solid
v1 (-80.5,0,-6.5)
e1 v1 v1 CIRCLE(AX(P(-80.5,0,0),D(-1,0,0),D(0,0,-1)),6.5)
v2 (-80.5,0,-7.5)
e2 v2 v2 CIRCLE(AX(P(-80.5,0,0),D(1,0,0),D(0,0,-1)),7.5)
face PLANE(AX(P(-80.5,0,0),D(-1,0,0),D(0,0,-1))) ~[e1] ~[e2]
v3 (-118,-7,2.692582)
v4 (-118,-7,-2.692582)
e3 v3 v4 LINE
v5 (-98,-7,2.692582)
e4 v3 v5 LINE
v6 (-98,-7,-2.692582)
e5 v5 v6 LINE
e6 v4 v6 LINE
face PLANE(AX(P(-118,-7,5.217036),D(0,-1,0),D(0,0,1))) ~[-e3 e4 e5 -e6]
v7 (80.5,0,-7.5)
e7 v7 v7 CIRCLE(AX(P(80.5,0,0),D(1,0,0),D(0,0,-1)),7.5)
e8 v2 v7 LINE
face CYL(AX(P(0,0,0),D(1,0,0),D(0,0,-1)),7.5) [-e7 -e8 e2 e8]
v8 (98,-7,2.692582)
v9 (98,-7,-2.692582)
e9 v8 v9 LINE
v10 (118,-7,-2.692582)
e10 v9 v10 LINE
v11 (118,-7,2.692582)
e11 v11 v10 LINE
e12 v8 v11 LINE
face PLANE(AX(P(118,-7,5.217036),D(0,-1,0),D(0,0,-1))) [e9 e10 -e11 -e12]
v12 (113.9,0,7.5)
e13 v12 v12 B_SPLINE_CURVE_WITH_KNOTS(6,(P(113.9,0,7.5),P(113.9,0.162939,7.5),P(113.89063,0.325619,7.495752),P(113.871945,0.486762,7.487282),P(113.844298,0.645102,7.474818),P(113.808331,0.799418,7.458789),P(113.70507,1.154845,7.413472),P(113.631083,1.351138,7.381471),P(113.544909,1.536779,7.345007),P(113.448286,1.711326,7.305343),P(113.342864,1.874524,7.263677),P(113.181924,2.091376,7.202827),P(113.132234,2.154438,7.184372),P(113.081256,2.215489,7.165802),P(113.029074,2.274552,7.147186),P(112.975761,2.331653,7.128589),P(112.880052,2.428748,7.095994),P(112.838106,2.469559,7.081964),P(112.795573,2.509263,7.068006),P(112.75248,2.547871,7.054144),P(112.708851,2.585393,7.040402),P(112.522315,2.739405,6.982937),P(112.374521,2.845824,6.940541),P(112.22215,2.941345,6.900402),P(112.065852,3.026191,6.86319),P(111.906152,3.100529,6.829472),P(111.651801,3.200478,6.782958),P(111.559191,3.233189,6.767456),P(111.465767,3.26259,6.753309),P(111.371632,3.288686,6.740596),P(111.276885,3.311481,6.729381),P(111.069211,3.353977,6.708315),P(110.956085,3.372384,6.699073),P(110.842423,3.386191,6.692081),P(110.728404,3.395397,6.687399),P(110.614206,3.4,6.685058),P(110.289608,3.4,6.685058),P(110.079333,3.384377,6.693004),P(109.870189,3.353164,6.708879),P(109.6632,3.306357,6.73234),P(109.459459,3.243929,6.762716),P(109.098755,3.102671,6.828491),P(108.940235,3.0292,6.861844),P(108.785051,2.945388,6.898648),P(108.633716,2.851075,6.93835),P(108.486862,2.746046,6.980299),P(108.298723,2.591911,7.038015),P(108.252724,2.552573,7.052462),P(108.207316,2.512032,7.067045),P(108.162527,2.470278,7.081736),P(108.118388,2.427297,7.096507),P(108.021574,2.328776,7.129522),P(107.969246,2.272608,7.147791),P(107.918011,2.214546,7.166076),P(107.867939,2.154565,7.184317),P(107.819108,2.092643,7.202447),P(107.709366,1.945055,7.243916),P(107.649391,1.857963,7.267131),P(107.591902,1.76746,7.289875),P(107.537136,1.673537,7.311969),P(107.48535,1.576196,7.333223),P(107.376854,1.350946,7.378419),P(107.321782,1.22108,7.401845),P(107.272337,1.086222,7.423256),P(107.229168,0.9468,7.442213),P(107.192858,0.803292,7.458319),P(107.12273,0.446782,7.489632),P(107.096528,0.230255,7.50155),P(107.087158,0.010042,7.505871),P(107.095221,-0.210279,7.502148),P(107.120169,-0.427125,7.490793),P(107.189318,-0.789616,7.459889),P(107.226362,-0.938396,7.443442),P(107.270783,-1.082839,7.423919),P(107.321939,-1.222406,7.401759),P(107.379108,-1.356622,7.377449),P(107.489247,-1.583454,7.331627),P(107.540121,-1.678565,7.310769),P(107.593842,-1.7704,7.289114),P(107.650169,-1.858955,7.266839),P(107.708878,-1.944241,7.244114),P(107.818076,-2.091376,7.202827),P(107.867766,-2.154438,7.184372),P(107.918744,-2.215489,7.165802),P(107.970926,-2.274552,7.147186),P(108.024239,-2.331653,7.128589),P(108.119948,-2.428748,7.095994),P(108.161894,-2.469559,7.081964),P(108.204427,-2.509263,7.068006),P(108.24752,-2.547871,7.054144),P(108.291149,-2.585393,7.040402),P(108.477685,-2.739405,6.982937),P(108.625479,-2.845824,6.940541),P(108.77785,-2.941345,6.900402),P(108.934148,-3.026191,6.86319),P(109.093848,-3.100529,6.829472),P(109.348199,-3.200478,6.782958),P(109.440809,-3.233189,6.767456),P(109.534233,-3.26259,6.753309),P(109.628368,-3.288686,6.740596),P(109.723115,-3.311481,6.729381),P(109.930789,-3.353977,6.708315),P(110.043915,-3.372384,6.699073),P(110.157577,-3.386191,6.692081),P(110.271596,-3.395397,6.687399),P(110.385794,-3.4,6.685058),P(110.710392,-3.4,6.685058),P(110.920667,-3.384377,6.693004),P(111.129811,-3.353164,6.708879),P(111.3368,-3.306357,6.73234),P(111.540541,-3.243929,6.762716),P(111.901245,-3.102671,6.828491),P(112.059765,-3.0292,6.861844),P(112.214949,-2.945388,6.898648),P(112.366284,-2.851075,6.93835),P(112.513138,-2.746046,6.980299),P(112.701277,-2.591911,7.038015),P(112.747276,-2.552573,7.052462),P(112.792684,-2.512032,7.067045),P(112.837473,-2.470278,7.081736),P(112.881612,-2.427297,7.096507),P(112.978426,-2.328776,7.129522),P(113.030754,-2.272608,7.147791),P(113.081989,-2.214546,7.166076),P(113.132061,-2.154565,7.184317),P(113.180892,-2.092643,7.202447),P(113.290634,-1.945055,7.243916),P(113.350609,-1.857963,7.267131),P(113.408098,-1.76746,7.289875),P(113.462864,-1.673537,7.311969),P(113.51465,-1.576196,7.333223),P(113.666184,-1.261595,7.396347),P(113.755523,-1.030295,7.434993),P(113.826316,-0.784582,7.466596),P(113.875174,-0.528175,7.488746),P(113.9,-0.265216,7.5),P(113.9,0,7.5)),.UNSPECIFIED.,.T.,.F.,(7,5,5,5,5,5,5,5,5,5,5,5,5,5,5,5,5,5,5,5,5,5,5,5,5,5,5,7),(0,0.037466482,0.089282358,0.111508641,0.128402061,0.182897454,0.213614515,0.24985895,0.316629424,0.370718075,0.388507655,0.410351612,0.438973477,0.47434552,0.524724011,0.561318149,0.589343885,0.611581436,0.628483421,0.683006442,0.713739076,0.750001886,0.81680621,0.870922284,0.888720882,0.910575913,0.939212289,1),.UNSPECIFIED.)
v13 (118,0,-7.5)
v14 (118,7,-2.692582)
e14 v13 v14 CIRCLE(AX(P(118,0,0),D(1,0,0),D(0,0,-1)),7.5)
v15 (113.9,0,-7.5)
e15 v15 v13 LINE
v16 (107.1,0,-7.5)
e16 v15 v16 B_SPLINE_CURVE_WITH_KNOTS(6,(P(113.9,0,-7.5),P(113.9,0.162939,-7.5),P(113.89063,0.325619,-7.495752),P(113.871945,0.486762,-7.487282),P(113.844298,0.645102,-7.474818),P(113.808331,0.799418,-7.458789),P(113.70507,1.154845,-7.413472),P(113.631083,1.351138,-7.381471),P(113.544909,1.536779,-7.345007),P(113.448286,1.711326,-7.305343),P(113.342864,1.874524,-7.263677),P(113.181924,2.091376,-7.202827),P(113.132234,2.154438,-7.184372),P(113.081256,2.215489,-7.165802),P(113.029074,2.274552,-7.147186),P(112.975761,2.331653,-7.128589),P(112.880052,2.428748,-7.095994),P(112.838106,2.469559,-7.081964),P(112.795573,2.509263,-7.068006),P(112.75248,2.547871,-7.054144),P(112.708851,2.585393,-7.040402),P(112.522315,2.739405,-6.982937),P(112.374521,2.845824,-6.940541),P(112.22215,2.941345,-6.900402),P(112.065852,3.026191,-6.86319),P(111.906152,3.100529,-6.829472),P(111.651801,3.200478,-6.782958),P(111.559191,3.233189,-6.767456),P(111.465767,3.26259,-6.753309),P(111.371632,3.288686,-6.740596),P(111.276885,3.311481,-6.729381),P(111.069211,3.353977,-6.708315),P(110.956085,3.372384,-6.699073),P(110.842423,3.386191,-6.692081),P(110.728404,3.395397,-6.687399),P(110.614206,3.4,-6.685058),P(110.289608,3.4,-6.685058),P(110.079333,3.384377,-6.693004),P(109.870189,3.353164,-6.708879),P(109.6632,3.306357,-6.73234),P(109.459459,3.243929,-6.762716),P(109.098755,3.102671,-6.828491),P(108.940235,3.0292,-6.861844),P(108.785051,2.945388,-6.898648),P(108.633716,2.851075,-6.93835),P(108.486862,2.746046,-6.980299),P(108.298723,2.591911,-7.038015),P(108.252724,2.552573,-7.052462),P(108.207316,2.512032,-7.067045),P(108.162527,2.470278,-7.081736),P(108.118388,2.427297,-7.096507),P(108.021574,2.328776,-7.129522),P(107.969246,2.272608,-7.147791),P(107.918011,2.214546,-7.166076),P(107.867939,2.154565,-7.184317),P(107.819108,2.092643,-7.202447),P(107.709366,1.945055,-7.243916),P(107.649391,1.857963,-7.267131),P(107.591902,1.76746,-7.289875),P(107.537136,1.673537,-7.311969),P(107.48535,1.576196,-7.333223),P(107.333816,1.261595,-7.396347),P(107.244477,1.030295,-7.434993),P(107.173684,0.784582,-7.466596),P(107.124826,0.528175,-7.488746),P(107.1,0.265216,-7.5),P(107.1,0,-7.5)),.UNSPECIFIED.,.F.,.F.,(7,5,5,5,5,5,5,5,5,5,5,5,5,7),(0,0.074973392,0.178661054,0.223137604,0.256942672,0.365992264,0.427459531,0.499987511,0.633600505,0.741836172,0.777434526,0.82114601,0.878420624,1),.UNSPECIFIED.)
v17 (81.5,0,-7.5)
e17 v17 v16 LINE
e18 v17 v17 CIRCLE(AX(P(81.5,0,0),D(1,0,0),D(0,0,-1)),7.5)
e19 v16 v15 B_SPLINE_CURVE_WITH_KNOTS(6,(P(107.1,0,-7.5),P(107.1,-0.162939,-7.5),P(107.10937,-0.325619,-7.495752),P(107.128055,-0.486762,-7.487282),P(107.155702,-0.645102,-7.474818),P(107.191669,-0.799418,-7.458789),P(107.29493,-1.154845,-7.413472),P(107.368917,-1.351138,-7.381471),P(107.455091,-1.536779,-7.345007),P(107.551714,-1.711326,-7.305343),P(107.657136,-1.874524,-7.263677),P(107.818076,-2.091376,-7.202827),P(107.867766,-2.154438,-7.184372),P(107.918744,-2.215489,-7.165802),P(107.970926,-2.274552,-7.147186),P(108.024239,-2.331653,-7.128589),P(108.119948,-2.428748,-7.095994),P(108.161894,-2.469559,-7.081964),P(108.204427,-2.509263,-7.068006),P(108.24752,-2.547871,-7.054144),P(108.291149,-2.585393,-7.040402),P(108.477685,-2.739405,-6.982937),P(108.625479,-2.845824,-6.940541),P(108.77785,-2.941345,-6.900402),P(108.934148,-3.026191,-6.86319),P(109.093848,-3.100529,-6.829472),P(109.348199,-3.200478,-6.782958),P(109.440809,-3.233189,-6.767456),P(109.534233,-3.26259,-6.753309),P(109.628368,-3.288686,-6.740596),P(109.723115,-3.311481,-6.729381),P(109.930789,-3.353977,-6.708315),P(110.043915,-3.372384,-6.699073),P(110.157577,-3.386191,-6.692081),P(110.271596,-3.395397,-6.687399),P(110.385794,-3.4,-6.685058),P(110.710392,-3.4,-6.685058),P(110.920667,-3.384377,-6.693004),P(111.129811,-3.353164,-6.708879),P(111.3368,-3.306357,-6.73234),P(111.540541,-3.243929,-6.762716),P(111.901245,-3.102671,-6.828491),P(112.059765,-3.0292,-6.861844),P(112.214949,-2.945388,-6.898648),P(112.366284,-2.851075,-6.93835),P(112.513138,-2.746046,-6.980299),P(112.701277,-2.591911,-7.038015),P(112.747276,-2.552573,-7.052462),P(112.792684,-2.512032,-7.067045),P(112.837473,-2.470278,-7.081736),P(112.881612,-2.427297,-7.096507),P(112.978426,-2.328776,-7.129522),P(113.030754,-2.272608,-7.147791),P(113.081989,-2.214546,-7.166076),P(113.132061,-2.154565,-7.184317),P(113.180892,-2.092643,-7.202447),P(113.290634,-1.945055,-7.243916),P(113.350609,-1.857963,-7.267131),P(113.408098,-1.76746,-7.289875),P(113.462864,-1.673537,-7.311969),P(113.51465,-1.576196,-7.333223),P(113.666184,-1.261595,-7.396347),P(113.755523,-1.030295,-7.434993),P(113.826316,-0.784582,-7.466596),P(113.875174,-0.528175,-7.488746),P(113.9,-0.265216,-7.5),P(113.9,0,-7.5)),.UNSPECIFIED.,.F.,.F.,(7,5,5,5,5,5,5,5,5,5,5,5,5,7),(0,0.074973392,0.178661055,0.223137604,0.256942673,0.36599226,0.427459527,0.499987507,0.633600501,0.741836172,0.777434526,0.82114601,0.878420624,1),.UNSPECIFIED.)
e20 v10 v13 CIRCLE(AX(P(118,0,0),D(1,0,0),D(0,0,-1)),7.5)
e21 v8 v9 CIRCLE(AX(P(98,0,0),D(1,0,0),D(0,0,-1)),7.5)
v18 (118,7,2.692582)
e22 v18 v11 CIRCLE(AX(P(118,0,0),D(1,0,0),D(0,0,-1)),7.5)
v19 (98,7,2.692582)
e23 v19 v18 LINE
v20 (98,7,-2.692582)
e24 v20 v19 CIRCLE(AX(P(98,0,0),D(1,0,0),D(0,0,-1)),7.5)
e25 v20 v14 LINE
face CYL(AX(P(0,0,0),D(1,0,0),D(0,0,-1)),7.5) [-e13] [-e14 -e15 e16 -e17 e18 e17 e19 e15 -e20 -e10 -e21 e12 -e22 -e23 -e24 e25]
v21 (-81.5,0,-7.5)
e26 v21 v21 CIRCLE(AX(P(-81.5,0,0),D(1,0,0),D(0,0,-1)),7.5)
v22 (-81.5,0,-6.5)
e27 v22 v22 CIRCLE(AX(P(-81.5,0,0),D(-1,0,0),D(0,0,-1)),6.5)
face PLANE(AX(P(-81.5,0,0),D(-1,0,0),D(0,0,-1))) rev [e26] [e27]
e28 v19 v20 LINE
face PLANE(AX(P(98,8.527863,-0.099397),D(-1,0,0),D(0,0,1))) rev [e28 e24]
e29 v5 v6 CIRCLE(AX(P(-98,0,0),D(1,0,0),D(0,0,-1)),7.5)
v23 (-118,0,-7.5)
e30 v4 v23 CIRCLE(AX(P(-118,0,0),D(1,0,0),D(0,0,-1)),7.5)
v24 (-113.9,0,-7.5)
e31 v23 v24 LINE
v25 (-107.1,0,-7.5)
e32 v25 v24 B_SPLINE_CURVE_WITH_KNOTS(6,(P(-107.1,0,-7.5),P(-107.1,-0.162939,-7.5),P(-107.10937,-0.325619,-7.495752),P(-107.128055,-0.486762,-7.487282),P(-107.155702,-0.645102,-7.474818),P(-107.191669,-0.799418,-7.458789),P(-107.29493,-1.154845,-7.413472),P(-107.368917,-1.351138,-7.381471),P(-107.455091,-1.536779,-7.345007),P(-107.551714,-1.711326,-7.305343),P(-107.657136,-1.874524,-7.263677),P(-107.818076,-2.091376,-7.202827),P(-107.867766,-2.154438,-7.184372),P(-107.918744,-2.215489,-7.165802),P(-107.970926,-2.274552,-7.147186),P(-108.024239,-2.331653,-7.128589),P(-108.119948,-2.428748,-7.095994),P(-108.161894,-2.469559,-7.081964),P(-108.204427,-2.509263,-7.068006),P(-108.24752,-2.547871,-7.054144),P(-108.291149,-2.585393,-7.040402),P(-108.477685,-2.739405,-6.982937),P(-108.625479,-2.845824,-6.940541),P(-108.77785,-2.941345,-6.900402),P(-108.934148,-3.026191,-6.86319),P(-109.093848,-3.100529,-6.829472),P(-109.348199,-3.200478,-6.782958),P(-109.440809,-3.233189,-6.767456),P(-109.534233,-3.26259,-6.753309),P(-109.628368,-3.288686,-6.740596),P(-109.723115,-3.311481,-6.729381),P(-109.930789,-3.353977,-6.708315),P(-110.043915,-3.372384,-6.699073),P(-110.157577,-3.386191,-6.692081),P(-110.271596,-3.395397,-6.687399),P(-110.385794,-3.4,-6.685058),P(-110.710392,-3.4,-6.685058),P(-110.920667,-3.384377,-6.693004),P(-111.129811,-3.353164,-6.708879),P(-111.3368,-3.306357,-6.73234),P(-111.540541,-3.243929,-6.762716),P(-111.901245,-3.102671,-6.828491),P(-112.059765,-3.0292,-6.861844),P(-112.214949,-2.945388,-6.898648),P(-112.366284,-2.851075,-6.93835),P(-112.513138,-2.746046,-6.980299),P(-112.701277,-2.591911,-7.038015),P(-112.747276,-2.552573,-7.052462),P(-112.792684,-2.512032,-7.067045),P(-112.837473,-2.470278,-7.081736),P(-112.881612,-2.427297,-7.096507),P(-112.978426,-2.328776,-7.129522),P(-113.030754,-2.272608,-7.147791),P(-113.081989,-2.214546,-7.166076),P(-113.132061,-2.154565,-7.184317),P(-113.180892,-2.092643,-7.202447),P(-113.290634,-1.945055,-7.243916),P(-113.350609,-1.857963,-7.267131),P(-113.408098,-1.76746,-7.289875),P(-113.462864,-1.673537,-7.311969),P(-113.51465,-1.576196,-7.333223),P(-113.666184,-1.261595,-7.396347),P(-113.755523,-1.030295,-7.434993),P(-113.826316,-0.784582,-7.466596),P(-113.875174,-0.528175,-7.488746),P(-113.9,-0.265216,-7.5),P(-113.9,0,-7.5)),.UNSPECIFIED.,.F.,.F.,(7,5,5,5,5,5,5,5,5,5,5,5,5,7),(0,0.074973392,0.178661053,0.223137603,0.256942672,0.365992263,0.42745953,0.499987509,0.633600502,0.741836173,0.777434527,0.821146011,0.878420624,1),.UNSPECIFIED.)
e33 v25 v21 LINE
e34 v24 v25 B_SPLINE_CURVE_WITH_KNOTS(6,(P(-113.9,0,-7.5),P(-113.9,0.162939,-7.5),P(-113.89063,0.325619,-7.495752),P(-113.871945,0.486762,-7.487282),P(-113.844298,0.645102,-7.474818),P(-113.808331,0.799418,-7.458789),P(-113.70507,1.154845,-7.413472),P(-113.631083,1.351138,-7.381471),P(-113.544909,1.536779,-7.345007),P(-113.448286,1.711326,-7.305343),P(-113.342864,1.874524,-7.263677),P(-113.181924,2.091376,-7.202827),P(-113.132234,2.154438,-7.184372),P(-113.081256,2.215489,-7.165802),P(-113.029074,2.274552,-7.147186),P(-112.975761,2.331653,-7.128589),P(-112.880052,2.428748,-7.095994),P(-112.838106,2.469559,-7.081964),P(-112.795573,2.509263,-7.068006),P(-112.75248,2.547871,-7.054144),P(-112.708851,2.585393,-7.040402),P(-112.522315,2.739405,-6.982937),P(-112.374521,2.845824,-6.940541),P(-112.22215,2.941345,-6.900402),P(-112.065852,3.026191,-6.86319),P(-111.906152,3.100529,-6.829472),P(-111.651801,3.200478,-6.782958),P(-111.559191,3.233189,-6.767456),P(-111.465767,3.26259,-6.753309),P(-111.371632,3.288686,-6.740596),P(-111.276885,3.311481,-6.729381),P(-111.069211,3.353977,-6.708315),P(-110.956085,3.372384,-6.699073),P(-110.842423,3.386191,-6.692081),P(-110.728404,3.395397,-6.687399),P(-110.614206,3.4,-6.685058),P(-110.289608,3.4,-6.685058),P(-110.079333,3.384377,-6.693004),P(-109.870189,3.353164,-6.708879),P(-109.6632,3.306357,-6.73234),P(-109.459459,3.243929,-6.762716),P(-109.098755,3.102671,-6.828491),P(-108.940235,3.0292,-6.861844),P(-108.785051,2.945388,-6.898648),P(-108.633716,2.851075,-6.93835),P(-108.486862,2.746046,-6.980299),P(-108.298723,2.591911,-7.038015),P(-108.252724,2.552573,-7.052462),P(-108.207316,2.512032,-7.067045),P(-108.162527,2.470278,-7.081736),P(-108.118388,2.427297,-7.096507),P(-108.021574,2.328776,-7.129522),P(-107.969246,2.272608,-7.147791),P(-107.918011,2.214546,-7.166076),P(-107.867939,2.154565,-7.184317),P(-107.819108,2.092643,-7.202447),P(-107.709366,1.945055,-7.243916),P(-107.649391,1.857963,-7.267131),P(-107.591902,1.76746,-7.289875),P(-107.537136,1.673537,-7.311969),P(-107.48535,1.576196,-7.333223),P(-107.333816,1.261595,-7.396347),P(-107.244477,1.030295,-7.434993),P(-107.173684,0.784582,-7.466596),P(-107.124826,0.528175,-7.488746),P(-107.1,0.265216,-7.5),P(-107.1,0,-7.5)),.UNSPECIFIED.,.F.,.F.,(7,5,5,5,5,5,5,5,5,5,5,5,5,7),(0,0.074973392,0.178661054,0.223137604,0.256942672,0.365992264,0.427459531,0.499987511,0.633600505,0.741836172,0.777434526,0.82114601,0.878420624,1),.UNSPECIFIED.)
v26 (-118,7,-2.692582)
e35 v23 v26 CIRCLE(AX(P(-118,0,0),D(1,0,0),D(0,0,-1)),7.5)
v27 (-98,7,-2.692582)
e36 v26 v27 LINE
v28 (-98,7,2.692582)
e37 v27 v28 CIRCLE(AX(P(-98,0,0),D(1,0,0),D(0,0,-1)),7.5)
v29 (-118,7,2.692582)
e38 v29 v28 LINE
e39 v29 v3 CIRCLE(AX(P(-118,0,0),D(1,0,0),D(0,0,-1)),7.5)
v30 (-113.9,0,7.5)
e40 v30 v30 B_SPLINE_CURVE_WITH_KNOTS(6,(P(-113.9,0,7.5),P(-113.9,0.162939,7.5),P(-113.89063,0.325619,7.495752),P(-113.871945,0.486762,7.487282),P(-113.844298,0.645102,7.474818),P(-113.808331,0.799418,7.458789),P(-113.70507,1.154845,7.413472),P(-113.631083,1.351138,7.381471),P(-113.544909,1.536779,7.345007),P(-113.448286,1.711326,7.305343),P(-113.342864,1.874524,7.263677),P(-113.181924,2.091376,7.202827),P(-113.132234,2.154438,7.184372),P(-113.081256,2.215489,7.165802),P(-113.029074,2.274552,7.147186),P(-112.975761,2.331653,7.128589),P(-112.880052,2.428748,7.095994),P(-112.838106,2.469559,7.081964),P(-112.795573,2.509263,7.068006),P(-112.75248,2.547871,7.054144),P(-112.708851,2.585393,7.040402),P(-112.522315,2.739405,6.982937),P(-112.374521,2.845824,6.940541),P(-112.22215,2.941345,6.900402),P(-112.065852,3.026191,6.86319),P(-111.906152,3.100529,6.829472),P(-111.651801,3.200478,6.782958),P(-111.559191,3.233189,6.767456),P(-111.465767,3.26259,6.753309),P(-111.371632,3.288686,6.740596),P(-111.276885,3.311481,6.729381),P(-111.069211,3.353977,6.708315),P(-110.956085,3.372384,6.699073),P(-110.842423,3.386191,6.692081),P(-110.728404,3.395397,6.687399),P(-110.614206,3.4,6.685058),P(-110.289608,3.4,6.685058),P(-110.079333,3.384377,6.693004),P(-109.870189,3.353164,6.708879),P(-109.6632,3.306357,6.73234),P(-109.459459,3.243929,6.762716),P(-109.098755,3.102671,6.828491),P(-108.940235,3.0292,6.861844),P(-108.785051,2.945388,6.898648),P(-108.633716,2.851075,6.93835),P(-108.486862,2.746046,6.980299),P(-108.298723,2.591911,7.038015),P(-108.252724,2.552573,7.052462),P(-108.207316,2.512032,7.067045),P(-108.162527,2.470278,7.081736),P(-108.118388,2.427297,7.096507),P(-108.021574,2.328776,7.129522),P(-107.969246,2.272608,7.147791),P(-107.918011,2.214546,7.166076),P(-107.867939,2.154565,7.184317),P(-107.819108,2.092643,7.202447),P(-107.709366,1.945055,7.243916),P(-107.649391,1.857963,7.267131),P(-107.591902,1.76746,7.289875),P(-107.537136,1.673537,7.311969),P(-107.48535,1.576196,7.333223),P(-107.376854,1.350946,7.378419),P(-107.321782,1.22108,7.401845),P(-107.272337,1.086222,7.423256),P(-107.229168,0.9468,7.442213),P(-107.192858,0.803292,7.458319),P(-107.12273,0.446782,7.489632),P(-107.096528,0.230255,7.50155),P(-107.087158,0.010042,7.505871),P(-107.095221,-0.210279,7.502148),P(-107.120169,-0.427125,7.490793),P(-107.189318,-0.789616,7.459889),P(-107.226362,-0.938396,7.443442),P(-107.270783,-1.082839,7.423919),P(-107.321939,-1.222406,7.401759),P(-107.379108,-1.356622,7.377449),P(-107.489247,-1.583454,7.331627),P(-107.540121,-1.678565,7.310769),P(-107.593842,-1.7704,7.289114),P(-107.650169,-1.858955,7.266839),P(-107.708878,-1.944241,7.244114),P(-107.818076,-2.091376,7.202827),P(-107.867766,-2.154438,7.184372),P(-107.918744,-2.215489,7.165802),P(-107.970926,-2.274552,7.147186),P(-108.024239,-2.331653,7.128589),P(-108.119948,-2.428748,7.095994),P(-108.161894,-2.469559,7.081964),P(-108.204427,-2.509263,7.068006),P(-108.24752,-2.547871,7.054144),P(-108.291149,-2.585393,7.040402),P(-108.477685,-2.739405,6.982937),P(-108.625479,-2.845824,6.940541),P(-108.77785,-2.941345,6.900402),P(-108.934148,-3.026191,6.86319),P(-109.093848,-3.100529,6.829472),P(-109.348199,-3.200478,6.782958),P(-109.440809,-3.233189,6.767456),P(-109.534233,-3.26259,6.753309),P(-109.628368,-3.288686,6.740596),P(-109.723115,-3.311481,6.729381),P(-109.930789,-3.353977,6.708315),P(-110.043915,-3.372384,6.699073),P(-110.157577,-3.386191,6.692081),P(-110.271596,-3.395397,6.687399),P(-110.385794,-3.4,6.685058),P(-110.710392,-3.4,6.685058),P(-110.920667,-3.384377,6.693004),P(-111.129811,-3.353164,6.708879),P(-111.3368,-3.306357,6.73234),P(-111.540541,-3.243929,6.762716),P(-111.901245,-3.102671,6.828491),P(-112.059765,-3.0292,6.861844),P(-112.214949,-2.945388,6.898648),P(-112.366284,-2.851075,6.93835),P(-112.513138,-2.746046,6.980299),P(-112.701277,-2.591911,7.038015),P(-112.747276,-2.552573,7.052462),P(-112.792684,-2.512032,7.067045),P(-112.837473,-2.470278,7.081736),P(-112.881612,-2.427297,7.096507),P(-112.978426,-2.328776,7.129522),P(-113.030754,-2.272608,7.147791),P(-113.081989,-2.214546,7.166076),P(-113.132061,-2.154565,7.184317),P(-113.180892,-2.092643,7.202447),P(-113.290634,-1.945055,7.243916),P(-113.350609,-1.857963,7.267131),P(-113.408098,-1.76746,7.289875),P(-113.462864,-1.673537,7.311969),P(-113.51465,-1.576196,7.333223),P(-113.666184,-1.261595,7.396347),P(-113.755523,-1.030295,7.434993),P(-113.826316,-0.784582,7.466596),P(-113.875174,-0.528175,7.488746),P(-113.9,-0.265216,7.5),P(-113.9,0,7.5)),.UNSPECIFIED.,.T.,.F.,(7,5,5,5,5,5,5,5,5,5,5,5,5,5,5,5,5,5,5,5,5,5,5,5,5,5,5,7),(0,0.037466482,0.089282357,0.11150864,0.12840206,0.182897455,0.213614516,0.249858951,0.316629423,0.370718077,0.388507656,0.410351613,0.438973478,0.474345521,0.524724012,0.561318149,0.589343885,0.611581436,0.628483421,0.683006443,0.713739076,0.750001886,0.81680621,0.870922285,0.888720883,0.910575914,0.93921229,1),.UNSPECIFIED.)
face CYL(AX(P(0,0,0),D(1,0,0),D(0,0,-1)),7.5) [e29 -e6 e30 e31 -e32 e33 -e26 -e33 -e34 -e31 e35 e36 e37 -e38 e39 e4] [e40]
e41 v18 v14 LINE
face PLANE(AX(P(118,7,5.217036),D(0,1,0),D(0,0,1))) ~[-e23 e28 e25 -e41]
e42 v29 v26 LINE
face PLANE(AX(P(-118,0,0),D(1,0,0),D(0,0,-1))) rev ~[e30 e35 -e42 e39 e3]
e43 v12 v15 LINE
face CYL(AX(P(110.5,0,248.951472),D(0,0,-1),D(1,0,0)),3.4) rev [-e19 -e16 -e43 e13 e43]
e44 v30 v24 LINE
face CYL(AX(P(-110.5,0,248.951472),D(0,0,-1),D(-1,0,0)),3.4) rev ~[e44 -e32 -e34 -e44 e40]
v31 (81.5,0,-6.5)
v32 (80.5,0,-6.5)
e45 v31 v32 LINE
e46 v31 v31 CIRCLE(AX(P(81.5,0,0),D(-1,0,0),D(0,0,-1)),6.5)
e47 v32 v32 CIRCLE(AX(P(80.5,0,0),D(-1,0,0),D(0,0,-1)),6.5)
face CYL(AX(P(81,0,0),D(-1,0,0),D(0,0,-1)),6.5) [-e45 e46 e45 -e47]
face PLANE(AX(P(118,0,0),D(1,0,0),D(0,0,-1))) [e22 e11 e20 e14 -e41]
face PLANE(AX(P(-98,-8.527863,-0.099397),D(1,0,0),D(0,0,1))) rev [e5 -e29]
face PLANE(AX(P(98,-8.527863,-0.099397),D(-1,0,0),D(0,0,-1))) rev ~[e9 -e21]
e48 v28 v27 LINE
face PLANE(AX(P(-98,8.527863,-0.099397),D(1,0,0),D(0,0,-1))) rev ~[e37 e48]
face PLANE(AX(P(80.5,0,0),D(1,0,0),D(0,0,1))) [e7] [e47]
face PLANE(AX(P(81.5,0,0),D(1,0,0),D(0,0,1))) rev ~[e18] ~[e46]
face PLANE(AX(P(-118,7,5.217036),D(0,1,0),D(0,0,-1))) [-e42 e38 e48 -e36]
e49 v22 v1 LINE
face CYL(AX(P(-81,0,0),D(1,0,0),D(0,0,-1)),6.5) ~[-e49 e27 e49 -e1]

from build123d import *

# Parameters (mm, degrees)
IZIM1_R                     = 7.5
Y_KSEKLIK_EKSTR_ZYON1_DEPTH = 118
IZIM2_W                     = 1
IZIM2_H                     = 2
KES_EKSTR_ZYON1_DEPTH       = 20
M8_DI_LI_DELIK1_D           = 6.8
AYNALAMA3_COPY_1_DEPTH      = 20


with BuildPart() as part:
    # Çizim1 → Yükseklik-Ekstrüzyon1 (new, symmetric)
    with BuildSketch(Plane(origin=(0, 0, 0), x_dir=(0, 0, -1), z_dir=(1, 0, 0))):
        Circle(IZIM1_R)
    extrude(amount=Y_KSEKLIK_EKSTR_ZYON1_DEPTH, both=True)

    # Çizim2 → Kes-Döndür2 (revolve, cut)
    with BuildSketch(Plane.XY, mode=Mode.PRIVATE) as kes_d_nd_r2_sk:
        with Locations((-81, 7.5)):
            Rectangle(IZIM2_W, IZIM2_H)
    kes_d_nd_r2 = revolve(kes_d_nd_r2_sk.sketch.rotate(Axis((0, 0, 0), (-1, 0, 0)), 90), axis=Axis((0, 0, 0), (-1, 0, 0)), mode=Mode.SUBTRACT)

    # Çizim3 → Kes-Ekstrüzyon1 (cut)
    with BuildSketch(Plane.ZY.offset(118)):
        Polygon((5.217035769, 7), (-5.217035769, 7), (-0.675959806, 12.212790329), align=None)
    kes_ekstr_zyon1 = extrude(amount=-KES_EKSTR_ZYON1_DEPTH, mode=Mode.SUBTRACT)

    # Aynalama2: Kes-Ekstrüzyon1 across plane
    add(kes_ekstr_zyon1.mirror(Plane.ZX), mode=Mode.SUBTRACT)

    # M8 Dişli Delik1 (through all)
    with Locations(Plane.XY.offset(12)):
        with Locations((-110.5, 0)):
            m8_di_li_delik1 = Hole(M8_DI_LI_DELIK1_D / 2)

    # Aynalama3: Kes-Döndür2, Kes-Ekstrüzyon1, M8 Dişli Delik1 across plane
    add(kes_d_nd_r2.mirror(Plane(origin=(0, 0, 0), x_dir=(0, 0, 1), z_dir=(1, 0, 0))), mode=Mode.SUBTRACT)
    add(kes_ekstr_zyon1.mirror(Plane(origin=(0, 0, 0), x_dir=(0, 0, 1), z_dir=(1, 0, 0))), mode=Mode.SUBTRACT)
    add(m8_di_li_delik1.mirror(Plane(origin=(0, 0, 0), x_dir=(0, 0, 1), z_dir=(1, 0, 0))), mode=Mode.SUBTRACT)

    # Aynalama3 copy 1 sketch → Aynalama3 copy 1 (cut)
    with BuildSketch(Plane(origin=(118, 0, 0), x_dir=(0, 0, 1), z_dir=(1, 0, 0))):
        Polygon((5.217035769, 7), (-5.217035769, 7), (-0.675959806, 12.212790329), align=None)
    extrude(amount=-AYNALAMA3_COPY_1_DEPTH, mode=Mode.SUBTRACT)


solid = part.part
